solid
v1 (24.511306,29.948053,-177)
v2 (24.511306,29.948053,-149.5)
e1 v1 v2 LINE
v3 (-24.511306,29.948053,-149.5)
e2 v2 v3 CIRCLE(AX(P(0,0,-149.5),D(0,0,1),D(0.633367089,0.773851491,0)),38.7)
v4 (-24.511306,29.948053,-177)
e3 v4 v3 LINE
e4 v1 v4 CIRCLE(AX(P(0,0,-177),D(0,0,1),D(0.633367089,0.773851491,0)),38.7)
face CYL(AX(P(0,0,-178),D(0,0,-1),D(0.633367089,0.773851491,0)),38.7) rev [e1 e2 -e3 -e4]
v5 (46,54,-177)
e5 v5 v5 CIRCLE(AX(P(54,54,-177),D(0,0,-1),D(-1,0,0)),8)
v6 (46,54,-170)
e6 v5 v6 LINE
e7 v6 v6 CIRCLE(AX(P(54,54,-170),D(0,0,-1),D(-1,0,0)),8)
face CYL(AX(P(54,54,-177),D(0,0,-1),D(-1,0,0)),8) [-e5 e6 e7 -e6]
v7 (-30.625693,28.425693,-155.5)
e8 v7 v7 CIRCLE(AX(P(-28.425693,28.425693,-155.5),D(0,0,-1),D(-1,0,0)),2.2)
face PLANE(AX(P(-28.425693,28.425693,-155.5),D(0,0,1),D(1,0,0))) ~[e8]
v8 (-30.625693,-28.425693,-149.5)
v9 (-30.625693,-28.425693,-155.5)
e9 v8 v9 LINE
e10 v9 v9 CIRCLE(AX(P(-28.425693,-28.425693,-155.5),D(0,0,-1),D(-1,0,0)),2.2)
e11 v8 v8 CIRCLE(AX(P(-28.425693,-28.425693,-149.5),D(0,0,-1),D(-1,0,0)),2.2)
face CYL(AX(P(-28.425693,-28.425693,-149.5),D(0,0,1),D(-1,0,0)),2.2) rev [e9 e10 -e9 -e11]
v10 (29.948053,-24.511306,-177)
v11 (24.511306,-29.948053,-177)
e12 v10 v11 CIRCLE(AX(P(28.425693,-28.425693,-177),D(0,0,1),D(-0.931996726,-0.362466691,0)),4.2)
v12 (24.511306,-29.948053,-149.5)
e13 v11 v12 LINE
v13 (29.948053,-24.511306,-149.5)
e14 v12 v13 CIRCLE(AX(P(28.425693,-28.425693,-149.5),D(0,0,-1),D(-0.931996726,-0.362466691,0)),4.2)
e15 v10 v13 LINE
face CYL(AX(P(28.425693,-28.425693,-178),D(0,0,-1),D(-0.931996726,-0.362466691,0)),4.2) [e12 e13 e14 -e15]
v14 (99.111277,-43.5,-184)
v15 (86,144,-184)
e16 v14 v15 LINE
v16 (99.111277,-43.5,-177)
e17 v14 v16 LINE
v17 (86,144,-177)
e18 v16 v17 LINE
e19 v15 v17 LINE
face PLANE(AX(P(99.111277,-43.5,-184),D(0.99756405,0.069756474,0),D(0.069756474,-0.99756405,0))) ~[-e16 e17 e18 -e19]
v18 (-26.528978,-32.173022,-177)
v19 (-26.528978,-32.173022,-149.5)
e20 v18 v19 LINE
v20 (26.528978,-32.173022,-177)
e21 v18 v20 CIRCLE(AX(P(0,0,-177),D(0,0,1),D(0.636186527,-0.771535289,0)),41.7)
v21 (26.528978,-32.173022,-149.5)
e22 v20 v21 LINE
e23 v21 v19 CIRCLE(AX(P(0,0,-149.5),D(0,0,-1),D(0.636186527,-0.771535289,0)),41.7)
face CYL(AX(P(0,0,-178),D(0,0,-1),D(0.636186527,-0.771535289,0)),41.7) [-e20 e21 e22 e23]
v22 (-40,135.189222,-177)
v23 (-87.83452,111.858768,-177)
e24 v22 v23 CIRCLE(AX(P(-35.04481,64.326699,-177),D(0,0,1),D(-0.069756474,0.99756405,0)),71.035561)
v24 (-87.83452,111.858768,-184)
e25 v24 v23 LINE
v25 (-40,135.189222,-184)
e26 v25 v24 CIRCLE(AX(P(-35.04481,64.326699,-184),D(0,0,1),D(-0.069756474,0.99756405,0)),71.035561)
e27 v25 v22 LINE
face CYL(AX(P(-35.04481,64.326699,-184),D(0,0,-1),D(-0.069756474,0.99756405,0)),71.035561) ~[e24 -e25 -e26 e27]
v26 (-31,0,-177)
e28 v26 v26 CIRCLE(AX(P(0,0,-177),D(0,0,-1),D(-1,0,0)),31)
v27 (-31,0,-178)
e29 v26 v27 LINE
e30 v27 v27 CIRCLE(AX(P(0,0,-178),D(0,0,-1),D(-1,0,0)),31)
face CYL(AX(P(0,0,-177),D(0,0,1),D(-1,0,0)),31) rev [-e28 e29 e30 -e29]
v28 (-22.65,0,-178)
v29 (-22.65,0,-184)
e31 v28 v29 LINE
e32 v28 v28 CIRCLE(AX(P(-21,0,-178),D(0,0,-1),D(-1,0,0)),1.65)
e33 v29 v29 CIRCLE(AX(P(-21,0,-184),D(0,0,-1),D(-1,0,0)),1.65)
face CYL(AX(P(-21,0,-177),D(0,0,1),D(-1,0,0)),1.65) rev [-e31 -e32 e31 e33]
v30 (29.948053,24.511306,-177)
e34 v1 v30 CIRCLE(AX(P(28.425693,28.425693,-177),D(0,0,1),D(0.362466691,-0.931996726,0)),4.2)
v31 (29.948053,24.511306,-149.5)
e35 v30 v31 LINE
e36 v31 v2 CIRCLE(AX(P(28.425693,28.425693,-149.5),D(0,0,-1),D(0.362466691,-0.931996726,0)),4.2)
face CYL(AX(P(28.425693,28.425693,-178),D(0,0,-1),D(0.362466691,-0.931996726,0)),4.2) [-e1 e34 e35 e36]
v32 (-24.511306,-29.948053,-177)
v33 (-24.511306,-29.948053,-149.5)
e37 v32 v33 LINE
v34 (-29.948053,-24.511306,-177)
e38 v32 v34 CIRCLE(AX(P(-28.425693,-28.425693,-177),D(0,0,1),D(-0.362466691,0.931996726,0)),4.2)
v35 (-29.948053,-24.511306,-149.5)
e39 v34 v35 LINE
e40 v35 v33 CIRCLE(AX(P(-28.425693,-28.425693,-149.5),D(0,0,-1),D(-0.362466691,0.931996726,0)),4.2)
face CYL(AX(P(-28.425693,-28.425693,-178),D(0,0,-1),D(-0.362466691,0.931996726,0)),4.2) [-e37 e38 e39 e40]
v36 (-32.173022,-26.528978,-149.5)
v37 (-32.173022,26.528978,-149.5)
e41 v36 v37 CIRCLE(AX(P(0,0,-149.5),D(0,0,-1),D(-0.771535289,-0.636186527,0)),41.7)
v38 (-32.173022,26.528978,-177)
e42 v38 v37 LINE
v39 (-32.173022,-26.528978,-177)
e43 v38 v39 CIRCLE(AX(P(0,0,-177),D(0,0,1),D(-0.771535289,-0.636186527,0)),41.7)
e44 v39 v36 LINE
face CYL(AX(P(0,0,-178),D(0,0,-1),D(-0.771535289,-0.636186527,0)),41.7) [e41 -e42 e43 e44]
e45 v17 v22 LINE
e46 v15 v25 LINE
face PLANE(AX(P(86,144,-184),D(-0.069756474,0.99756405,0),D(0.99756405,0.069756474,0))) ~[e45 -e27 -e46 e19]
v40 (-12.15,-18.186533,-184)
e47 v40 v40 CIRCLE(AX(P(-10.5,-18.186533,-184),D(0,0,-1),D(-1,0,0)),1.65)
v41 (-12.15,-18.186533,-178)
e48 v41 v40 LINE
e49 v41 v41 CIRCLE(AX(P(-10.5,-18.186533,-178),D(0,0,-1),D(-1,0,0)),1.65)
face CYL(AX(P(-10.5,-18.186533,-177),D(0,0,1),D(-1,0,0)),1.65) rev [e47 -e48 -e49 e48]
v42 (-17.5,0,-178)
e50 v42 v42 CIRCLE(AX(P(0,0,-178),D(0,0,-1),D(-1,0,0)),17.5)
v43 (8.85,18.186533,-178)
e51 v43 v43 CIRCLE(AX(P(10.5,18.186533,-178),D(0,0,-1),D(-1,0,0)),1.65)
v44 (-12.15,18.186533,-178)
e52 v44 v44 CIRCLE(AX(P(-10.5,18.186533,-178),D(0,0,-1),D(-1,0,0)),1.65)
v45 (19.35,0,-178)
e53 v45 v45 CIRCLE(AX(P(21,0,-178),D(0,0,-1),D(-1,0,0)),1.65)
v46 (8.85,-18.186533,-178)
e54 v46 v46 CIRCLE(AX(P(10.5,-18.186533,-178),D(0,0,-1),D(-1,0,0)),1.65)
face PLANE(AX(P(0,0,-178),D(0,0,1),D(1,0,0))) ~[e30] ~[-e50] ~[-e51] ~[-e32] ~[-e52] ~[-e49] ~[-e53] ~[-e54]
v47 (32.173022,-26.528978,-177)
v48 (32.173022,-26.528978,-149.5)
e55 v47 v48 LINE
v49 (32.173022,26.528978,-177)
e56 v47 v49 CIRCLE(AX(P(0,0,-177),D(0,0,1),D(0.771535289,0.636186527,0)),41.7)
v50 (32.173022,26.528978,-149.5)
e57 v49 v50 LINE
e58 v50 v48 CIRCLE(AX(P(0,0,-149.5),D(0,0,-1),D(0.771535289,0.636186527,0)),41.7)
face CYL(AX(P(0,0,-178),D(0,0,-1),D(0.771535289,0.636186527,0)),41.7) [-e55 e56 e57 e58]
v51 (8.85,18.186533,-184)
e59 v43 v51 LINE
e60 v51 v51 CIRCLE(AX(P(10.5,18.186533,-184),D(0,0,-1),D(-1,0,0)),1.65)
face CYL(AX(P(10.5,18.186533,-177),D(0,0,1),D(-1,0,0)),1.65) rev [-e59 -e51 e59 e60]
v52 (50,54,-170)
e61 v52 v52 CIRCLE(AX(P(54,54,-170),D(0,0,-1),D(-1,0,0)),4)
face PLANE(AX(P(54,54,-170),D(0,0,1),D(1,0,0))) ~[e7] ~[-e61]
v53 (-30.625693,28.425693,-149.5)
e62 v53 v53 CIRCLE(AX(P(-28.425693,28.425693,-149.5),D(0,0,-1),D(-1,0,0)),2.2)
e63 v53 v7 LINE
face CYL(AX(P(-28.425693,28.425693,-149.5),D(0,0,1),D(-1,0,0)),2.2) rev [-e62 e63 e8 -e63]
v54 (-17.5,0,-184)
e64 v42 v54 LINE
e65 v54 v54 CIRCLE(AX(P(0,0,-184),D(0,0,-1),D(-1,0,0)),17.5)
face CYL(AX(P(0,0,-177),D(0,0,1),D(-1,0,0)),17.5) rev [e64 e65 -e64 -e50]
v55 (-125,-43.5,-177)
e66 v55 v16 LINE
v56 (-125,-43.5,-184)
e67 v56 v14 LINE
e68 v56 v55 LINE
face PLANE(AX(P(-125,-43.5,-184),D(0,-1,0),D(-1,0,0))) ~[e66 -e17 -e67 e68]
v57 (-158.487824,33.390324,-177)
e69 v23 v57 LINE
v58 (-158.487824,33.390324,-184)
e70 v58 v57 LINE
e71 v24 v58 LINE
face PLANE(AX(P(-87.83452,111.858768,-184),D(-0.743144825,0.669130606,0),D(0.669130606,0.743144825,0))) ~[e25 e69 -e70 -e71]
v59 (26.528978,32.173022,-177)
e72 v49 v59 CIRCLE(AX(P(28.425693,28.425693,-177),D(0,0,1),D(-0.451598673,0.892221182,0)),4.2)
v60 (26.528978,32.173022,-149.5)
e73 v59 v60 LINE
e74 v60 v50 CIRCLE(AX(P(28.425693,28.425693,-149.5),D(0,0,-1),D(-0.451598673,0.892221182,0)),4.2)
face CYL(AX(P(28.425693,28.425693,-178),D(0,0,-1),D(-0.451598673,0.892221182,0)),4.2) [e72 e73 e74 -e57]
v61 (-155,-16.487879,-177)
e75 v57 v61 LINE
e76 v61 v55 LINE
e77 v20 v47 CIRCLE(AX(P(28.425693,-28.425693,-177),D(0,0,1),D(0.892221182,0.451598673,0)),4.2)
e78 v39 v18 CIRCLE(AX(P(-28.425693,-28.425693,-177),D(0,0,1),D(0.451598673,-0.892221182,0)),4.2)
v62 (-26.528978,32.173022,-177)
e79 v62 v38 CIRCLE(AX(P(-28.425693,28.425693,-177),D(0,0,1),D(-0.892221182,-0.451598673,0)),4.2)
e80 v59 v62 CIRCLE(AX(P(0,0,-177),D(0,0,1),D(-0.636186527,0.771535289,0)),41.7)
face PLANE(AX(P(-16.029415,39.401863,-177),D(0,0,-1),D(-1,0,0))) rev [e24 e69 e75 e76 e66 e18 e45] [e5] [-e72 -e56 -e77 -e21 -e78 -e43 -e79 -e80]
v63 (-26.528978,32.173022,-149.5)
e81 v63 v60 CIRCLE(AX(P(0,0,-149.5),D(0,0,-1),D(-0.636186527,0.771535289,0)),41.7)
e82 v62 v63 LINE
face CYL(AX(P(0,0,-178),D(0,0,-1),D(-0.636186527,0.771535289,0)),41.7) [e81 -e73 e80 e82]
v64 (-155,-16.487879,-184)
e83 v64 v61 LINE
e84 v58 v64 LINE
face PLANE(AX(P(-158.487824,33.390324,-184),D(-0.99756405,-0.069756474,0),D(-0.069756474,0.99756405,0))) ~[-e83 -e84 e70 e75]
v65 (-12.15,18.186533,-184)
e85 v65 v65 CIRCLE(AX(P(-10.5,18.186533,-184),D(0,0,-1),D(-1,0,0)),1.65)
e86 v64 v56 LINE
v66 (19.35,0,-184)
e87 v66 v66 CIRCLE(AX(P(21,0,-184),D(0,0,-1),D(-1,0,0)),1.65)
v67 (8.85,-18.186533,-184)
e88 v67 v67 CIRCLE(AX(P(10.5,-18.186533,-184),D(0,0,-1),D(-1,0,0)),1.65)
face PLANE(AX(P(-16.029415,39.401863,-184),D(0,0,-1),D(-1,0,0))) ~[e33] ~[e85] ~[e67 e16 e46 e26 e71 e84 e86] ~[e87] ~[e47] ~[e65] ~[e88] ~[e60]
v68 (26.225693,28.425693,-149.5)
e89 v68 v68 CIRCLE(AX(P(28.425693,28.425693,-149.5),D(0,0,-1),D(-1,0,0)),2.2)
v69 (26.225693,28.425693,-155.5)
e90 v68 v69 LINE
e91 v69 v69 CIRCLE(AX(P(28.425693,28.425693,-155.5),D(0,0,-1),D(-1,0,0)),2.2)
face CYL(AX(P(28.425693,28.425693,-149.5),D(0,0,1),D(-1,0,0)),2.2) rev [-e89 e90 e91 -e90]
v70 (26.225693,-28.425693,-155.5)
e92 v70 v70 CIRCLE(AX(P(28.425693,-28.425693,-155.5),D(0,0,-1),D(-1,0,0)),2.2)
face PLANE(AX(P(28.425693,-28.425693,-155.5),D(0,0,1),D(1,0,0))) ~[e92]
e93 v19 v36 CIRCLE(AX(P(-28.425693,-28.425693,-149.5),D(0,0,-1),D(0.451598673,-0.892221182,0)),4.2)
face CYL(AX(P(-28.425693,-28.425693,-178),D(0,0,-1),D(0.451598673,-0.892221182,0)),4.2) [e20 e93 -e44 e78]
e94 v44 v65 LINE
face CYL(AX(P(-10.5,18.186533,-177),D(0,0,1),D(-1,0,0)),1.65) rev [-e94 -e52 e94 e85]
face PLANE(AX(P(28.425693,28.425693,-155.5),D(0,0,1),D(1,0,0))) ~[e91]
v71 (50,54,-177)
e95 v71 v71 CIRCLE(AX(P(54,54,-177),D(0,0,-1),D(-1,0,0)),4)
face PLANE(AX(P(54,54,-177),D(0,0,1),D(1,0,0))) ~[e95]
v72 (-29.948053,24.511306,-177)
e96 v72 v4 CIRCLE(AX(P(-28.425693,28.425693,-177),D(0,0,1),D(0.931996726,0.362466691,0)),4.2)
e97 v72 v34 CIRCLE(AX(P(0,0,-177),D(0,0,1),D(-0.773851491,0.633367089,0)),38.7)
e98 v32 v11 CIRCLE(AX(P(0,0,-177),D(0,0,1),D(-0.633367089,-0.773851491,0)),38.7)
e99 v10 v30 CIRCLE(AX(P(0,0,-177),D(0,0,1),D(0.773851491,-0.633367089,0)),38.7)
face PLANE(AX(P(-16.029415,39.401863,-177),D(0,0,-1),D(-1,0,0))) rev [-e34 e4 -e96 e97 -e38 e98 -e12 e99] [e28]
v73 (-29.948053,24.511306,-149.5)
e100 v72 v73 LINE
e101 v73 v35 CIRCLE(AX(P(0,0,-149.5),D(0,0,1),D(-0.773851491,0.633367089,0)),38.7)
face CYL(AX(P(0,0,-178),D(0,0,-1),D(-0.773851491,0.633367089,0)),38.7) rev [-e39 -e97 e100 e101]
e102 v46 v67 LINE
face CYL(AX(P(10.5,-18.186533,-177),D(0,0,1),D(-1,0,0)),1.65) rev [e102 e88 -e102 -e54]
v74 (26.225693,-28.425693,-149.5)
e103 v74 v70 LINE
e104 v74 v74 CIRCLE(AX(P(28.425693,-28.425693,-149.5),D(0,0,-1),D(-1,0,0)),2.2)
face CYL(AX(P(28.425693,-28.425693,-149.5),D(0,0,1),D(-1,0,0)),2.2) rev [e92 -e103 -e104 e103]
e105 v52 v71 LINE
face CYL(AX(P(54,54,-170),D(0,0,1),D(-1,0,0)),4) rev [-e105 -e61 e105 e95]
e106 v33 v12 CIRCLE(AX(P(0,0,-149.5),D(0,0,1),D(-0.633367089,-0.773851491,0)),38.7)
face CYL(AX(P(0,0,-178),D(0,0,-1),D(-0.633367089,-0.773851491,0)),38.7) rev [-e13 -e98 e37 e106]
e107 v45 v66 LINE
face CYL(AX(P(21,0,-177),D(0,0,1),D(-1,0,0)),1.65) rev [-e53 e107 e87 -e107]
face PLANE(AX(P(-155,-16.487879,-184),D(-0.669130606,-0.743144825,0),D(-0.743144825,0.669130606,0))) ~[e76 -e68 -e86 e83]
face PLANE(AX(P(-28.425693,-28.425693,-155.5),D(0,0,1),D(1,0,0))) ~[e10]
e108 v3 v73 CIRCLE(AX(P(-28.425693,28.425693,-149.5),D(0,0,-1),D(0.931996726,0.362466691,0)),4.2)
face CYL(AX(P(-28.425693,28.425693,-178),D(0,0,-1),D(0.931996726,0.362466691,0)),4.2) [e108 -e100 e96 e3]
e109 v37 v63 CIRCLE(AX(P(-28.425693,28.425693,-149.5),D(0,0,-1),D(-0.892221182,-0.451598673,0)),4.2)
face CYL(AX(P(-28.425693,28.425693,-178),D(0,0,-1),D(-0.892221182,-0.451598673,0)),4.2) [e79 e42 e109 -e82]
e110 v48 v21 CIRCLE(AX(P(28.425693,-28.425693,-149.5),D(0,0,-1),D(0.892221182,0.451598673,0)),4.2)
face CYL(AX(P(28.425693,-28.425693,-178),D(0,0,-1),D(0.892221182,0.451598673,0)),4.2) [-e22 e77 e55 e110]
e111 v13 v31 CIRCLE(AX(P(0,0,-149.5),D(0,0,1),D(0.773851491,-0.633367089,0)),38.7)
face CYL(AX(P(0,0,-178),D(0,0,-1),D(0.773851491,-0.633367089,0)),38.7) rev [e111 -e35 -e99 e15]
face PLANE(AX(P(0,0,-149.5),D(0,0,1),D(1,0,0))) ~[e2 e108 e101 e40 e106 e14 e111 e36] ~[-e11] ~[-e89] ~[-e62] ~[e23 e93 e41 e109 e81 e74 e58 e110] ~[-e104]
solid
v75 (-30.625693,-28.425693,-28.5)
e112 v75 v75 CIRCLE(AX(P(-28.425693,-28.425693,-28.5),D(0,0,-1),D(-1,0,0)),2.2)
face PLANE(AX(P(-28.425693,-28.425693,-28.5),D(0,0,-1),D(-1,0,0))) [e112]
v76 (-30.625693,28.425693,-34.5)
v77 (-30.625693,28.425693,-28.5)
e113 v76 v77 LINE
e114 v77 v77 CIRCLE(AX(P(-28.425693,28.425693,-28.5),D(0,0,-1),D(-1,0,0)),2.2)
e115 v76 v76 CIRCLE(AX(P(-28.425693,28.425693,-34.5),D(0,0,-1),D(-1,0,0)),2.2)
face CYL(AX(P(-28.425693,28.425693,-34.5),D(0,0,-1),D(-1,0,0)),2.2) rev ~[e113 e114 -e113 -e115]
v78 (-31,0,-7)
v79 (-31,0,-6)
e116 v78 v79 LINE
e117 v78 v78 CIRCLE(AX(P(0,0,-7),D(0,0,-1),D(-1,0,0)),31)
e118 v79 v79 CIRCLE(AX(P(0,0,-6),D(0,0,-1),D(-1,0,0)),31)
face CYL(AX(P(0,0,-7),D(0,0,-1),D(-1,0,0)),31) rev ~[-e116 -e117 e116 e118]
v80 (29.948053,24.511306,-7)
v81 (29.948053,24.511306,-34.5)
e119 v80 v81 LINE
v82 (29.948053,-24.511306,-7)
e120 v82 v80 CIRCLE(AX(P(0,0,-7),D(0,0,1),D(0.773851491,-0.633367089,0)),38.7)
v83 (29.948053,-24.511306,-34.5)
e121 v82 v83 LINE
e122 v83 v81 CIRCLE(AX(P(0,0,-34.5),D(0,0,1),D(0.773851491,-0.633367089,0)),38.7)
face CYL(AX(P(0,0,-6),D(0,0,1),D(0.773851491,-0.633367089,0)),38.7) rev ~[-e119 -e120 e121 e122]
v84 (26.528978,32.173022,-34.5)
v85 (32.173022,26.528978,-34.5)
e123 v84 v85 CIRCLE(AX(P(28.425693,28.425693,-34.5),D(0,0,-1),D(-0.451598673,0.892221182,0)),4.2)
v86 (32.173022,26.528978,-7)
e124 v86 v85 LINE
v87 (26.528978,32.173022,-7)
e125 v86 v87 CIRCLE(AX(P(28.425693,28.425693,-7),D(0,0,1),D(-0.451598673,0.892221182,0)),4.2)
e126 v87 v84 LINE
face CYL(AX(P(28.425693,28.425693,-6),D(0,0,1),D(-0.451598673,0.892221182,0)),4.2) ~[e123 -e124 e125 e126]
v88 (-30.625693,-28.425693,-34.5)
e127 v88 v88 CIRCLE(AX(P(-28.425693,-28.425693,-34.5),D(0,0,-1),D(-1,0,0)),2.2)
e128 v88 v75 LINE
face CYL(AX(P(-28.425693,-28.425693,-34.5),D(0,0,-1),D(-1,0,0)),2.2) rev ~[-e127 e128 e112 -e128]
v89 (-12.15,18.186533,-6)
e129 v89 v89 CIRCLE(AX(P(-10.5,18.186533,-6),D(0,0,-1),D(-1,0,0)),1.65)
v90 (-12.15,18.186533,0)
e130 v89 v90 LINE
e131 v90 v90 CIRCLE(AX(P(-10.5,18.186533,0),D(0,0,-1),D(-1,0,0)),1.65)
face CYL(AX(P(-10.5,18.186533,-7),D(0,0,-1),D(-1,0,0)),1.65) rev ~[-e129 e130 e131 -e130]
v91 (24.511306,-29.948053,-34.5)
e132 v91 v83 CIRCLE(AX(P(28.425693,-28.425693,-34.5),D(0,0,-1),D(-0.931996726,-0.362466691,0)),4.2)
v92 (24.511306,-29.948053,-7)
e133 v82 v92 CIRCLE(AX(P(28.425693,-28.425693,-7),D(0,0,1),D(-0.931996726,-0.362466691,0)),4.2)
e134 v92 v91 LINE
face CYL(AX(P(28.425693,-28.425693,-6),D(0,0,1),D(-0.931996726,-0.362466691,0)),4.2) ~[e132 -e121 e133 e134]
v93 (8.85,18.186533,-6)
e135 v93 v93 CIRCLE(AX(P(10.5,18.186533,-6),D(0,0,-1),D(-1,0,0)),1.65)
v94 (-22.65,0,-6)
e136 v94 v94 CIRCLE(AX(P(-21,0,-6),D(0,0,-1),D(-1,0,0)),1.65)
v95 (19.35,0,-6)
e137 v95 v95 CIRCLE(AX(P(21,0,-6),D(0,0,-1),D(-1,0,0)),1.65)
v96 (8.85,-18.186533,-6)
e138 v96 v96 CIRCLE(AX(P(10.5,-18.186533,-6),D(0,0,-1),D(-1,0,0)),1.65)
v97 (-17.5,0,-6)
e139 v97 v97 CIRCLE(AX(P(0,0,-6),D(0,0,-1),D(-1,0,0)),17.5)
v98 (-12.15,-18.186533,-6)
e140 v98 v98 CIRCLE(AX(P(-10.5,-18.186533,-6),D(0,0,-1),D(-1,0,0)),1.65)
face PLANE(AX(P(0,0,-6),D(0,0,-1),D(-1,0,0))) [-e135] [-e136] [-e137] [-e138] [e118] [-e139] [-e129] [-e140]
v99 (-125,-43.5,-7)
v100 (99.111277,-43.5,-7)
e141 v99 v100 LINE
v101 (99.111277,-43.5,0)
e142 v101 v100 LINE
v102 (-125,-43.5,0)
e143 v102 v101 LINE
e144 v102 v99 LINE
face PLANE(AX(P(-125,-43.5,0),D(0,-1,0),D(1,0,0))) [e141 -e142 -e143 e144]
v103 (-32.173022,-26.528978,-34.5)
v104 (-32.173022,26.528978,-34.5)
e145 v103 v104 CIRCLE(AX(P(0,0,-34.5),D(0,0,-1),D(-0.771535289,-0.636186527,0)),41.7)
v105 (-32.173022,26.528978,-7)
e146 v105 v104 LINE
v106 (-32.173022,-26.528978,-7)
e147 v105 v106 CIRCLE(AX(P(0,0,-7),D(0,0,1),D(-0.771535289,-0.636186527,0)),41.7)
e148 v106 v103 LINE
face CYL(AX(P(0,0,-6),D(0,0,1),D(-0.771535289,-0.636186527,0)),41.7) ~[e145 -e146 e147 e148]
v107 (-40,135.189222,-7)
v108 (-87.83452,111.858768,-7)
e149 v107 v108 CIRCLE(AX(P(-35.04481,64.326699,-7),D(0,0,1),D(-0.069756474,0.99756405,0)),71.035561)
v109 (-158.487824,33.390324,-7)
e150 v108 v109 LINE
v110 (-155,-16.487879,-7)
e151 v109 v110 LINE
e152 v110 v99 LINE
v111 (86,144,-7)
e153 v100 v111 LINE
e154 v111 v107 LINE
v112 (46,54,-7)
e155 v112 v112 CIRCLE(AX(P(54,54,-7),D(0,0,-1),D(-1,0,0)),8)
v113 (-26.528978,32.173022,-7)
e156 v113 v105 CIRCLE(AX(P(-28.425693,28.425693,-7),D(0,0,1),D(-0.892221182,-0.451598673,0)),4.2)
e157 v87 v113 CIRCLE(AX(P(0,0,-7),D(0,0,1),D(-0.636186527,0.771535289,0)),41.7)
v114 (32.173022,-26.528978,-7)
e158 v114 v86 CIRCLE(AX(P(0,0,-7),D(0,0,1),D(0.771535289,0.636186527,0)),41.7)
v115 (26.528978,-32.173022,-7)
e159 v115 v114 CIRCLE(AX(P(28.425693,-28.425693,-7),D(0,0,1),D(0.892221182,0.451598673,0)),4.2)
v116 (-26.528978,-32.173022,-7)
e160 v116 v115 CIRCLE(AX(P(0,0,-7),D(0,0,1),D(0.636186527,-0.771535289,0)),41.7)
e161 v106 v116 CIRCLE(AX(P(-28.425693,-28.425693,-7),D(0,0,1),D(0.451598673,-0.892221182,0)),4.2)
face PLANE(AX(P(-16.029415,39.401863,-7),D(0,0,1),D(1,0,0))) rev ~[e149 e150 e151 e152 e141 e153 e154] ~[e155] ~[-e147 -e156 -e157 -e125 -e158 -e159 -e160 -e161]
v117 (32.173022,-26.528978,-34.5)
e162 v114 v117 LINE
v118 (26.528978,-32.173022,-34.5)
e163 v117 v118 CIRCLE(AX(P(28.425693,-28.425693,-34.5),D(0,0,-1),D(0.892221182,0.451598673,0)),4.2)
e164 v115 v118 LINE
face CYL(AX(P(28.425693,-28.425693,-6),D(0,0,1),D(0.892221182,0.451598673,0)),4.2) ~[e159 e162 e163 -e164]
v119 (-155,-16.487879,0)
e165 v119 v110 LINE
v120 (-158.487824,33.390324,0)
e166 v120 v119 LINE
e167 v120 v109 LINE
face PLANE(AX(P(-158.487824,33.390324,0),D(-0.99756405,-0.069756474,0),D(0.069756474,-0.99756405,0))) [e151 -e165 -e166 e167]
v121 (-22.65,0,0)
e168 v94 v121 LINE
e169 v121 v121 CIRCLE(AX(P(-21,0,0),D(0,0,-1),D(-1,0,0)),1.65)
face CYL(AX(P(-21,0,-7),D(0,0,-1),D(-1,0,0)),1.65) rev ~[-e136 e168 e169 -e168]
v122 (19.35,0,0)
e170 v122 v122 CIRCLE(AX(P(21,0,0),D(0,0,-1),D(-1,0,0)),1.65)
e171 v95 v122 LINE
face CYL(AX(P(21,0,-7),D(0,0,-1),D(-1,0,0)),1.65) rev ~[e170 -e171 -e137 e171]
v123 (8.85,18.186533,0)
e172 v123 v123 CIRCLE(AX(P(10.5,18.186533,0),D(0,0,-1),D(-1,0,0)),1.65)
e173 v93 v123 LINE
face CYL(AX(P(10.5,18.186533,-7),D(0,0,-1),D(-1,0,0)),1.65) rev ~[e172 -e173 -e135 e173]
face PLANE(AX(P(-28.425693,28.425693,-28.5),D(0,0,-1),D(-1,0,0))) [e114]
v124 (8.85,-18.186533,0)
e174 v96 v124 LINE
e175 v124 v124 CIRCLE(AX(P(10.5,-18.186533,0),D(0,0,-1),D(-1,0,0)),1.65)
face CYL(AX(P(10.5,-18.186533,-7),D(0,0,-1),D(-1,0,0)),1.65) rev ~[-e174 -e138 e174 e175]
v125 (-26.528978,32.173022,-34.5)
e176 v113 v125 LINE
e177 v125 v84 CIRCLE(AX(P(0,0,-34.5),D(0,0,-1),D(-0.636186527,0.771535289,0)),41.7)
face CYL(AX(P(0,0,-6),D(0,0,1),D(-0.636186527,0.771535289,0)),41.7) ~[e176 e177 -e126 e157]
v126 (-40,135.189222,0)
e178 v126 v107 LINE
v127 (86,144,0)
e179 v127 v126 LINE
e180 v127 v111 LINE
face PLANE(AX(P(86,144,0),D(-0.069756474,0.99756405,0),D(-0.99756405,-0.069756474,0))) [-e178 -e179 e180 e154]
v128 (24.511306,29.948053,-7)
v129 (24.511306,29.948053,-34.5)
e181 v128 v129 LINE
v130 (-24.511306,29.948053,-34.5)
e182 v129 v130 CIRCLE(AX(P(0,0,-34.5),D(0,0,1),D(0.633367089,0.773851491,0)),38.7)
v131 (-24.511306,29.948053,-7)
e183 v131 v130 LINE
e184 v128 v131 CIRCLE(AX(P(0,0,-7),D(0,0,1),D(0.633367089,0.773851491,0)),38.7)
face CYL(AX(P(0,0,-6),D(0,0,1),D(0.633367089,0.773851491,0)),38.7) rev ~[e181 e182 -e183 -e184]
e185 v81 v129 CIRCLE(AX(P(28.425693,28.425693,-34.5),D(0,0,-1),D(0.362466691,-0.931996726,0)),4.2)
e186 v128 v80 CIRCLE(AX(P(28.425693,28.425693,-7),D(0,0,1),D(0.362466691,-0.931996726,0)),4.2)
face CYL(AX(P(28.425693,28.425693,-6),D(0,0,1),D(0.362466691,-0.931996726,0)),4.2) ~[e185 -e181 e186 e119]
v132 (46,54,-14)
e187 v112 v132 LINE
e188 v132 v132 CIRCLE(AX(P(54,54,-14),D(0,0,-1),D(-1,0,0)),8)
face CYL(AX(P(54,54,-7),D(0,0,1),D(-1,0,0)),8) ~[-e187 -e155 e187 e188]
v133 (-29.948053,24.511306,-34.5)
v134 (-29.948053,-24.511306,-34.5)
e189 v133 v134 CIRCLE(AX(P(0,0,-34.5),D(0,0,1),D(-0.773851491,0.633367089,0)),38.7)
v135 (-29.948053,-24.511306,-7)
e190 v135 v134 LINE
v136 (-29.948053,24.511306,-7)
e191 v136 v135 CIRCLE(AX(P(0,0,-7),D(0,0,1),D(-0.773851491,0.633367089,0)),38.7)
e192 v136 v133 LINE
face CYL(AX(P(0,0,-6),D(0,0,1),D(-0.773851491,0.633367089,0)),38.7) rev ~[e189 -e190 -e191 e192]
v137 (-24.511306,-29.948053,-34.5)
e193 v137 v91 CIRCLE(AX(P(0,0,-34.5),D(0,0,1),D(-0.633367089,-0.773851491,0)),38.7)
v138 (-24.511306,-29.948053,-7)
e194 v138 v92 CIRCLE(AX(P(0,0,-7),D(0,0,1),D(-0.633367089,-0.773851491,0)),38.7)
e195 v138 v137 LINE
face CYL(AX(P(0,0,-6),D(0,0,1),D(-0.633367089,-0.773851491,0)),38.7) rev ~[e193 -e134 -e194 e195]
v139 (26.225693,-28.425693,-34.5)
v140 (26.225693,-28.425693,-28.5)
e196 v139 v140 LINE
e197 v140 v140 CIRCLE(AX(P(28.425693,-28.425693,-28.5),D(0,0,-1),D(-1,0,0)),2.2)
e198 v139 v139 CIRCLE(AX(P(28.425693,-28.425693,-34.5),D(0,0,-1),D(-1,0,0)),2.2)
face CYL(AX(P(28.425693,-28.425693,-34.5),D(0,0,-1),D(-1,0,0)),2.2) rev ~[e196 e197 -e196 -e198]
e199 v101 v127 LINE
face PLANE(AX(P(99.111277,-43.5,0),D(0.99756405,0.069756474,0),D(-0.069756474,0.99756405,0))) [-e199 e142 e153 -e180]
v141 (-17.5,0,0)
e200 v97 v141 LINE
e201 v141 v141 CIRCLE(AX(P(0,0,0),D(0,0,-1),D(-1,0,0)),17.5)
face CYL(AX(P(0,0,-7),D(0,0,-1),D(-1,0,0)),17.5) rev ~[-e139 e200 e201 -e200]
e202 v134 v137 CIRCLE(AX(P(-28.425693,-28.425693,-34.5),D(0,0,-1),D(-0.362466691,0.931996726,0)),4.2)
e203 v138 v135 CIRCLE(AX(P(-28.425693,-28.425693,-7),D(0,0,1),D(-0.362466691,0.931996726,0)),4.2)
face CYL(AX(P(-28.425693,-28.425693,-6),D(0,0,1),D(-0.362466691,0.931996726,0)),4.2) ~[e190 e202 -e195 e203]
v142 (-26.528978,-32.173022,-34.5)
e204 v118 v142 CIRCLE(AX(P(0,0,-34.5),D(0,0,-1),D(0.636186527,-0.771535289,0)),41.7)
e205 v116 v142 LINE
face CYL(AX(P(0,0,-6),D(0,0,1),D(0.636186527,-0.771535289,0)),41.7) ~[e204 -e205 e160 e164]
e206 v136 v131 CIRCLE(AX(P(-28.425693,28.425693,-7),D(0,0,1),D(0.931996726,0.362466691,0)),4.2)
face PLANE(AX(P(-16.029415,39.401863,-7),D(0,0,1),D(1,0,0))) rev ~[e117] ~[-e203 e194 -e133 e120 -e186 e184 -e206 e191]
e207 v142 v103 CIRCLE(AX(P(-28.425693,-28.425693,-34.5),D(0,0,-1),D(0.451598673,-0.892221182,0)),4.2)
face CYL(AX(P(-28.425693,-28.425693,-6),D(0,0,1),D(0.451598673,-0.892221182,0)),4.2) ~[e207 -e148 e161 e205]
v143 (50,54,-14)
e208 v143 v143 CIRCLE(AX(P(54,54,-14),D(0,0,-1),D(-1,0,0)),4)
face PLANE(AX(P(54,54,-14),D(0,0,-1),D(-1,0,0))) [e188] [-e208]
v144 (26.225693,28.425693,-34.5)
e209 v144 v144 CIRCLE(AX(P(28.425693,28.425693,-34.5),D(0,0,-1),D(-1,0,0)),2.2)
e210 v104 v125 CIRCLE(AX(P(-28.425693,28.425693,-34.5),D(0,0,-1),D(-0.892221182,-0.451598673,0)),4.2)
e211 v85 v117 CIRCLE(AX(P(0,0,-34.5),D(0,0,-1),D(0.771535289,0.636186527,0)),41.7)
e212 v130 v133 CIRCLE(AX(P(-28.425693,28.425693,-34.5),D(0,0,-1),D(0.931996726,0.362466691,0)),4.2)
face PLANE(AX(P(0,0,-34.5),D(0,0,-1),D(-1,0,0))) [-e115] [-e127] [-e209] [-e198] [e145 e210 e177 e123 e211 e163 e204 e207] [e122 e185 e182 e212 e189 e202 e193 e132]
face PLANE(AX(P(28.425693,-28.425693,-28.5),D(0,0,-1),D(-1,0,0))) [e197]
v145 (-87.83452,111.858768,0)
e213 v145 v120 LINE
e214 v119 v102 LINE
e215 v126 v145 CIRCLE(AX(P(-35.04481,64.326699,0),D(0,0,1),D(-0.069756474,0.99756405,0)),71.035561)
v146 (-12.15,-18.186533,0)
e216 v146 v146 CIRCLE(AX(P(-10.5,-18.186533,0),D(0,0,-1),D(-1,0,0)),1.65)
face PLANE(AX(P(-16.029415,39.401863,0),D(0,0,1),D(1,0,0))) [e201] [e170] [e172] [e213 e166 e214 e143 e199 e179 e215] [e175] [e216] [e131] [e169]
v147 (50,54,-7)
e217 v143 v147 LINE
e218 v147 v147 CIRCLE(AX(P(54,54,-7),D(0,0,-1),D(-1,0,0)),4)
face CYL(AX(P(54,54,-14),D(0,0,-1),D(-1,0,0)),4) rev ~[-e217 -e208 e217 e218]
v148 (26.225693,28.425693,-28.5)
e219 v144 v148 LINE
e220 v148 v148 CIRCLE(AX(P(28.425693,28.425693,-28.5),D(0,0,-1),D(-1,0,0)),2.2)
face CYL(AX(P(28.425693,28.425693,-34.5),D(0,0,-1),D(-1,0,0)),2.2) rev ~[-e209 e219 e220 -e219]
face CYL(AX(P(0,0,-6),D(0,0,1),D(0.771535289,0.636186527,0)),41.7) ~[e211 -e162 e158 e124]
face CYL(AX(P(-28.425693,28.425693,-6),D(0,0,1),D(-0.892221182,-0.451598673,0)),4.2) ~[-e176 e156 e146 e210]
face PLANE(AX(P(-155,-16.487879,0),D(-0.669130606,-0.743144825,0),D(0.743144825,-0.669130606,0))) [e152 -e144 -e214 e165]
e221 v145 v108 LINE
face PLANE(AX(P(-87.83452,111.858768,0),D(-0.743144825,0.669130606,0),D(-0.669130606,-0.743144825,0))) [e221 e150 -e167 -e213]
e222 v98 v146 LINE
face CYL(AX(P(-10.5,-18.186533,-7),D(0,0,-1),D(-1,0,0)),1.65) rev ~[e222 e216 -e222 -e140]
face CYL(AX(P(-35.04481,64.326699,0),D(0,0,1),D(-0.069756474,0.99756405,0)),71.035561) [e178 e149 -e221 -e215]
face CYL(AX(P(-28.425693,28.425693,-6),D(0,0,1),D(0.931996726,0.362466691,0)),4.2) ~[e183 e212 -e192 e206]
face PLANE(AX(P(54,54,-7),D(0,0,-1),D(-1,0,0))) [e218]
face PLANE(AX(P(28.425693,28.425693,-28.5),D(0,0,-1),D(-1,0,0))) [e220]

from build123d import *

# Parameters (mm, degrees)
BOSS_EXTRUDE1_DEPTH = 7
SKETCH2_R           = 31
CUT_EXTRUDE1_DEPTH  = 1
BOSS_EXTRUDE2_START = -1
BOSS_EXTRUDE2_DEPTH = 28.5
CUT_EXTRUDE3_START  = 27.5
SKETCH4_11_R        = 2.2
CUT_EXTRUDE3_DEPTH  = 6
SKETCH4_12_R        = 17.5
SKETCH4_12_R_2      = 1.65
CUT_EXTRUDE4_DEPTH  = 216.894975062
SKETCH2_13_R        = 8
BOSS_EXTRUDE3_DEPTH = 7
CUT_EXTRUDE5_START  = 7
SKETCH2_14_R        = 4
CUT_EXTRUDE5_DEPTH  = 7


with BuildPart() as part:
    # Sketch1 → Boss-Extrude1 (new body)
    with BuildSketch(Plane.XY):
        with BuildLine():
            Line((-158.487823687, 33.390323842), (-155, -16.487878671))
            Line((-155, -16.487878671), (-125, -43.5))
            Line((-125, -43.5), (99.111277239, -43.5))
            Line((99.111277239, -43.5), (86, 144))
            Line((86, 144), (-40, 135.189221695))
            ThreePointArc((-40, 135.189221695), (-66.184750191, 128.173039027), (-87.834519516, 111.858767669))
            Line((-87.834519516, 111.858767669), (-158.487823687, 33.390323842))
        make_face()
    extrude(amount=-BOSS_EXTRUDE1_DEPTH)

    # Sketch2 → Cut-Extrude1 (cut)
    with BuildSketch(Plane(origin=(0, 0, -7), x_dir=(-1, 0, 0), z_dir=(0, 0, -1))):
        Circle(SKETCH2_R)
    extrude(amount=-CUT_EXTRUDE1_DEPTH, mode=Mode.SUBTRACT)

    # Sketch4<9> → Boss-Extrude2 (add)
    with BuildSketch(Plane(origin=(0, 0, -7), x_dir=(-1, 0, 0), z_dir=(0, 0, -1)).offset(BOSS_EXTRUDE2_START)):
        with BuildLine():
            ThreePointArc((-26.528978176, 32.17302157), (-31.395541085, 31.395541085), (-32.17302157, 26.528978176))
            ThreePointArc((-32.17302157, 26.528978176), (-41.7, 0), (-32.17302157, -26.528978176))
            ThreePointArc((-32.17302157, -26.528978176), (-31.395541085, -31.395541085), (-26.528978176, -32.17302157))
            ThreePointArc((-26.528978176, -32.17302157), (0, -41.7), (26.528978176, -32.17302157))
            ThreePointArc((26.528978176, -32.17302157), (31.395541085, -31.395541085), (32.17302157, -26.528978176))
            ThreePointArc((32.17302157, -26.528978176), (41.7, 0), (32.17302157, 26.528978176))
            ThreePointArc((32.17302157, 26.528978176), (31.395541085, 31.395541085), (26.528978176, 32.17302157))
            ThreePointArc((26.528978176, 32.17302157), (0, 41.7), (-26.528978176, 32.17302157))
        make_face()
        with BuildLine():
            ThreePointArc((24.511306353, 29.948052706), (25.455844123, 25.455844123), (29.948052706, 24.511306353))
            ThreePointArc((29.948052706, 24.511306353), (38.7, 0), (29.948052706, -24.511306353))
            ThreePointArc((29.948052706, -24.511306353), (25.455844123, -25.455844123), (24.511306353, -29.948052706))
            ThreePointArc((24.511306353, -29.948052706), (0, -38.7), (-24.511306353, -29.948052706))
            ThreePointArc((-24.511306353, -29.948052706), (-25.455844123, -25.455844123), (-29.948052706, -24.511306353))
            ThreePointArc((-29.948052706, -24.511306353), (-38.7, 0), (-29.948052706, 24.511306353))
            ThreePointArc((-29.948052706, 24.511306353), (-25.455844123, 25.455844123), (-24.511306353, 29.948052706))
            ThreePointArc((-24.511306353, 29.948052706), (0, 38.7), (24.511306353, 29.948052706))
        make_face(mode=Mode.SUBTRACT)
    extrude(amount=BOSS_EXTRUDE2_DEPTH)

    # Sketch4<11> → Cut-Extrude3 (cut)
    with BuildSketch(Plane(origin=(0, 0, -7), x_dir=(-1, 0, 0), z_dir=(0, 0, -1)).offset(CUT_EXTRUDE3_START)):
        with Locations((-28.425692604, 28.425692604)):
            Circle(SKETCH4_11_R)
        with Locations((28.425692604, 28.425692604)):
            Circle(SKETCH4_11_R)
        with Locations((28.425692604, -28.425692604)):
            Circle(SKETCH4_11_R)
        with Locations((-28.425692604, -28.425692604)):
            Circle(SKETCH4_11_R)
    extrude(amount=-CUT_EXTRUDE3_DEPTH, mode=Mode.SUBTRACT)

    # Sketch4<12> → Cut-Extrude4 (cut, through all)
    with BuildSketch(Plane(origin=(0, 0, -7), x_dir=(-1, 0, 0), z_dir=(0, 0, -1))):
        Circle(SKETCH4_12_R)
        with Locations((-10.5, 18.186533479)):
            Circle(SKETCH4_12_R_2)
        with Locations((10.5, 18.186533479)):
            Circle(SKETCH4_12_R_2)
        with Locations((21, 0)):
            Circle(SKETCH4_12_R_2)
        with Locations((10.5, -18.186533479)):
            Circle(SKETCH4_12_R_2)
        with Locations((-10.5, -18.186533479)):
            Circle(SKETCH4_12_R_2)
        with Locations((-21, 0)):
            Circle(SKETCH4_12_R_2)
    extrude(amount=-CUT_EXTRUDE4_DEPTH, mode=Mode.SUBTRACT)

    # Sketch2<13> → Boss-Extrude3 (add)
    with BuildSketch(Plane(origin=(0, 0, -7), x_dir=(-1, 0, 0), z_dir=(0, 0, -1))):
        with Locations((-54, 54)):
            Circle(SKETCH2_13_R)
    extrude(amount=BOSS_EXTRUDE3_DEPTH)

    # Sketch2<14> → Cut-Extrude5 (cut)
    with BuildSketch(Plane(origin=(0, 0, -7), x_dir=(-1, 0, 0), z_dir=(0, 0, -1)).offset(CUT_EXTRUDE5_START)):
        with Locations((-54, 54)):
            Circle(SKETCH2_14_R)
    extrude(amount=-CUT_EXTRUDE5_DEPTH, mode=Mode.SUBTRACT)


with BuildPart() as body_2:
    # Mirror1: mirrored copy
    add(part.part.mirror(Plane.XY.offset(-92)))


solid = Compound([part.part, body_2.part])
